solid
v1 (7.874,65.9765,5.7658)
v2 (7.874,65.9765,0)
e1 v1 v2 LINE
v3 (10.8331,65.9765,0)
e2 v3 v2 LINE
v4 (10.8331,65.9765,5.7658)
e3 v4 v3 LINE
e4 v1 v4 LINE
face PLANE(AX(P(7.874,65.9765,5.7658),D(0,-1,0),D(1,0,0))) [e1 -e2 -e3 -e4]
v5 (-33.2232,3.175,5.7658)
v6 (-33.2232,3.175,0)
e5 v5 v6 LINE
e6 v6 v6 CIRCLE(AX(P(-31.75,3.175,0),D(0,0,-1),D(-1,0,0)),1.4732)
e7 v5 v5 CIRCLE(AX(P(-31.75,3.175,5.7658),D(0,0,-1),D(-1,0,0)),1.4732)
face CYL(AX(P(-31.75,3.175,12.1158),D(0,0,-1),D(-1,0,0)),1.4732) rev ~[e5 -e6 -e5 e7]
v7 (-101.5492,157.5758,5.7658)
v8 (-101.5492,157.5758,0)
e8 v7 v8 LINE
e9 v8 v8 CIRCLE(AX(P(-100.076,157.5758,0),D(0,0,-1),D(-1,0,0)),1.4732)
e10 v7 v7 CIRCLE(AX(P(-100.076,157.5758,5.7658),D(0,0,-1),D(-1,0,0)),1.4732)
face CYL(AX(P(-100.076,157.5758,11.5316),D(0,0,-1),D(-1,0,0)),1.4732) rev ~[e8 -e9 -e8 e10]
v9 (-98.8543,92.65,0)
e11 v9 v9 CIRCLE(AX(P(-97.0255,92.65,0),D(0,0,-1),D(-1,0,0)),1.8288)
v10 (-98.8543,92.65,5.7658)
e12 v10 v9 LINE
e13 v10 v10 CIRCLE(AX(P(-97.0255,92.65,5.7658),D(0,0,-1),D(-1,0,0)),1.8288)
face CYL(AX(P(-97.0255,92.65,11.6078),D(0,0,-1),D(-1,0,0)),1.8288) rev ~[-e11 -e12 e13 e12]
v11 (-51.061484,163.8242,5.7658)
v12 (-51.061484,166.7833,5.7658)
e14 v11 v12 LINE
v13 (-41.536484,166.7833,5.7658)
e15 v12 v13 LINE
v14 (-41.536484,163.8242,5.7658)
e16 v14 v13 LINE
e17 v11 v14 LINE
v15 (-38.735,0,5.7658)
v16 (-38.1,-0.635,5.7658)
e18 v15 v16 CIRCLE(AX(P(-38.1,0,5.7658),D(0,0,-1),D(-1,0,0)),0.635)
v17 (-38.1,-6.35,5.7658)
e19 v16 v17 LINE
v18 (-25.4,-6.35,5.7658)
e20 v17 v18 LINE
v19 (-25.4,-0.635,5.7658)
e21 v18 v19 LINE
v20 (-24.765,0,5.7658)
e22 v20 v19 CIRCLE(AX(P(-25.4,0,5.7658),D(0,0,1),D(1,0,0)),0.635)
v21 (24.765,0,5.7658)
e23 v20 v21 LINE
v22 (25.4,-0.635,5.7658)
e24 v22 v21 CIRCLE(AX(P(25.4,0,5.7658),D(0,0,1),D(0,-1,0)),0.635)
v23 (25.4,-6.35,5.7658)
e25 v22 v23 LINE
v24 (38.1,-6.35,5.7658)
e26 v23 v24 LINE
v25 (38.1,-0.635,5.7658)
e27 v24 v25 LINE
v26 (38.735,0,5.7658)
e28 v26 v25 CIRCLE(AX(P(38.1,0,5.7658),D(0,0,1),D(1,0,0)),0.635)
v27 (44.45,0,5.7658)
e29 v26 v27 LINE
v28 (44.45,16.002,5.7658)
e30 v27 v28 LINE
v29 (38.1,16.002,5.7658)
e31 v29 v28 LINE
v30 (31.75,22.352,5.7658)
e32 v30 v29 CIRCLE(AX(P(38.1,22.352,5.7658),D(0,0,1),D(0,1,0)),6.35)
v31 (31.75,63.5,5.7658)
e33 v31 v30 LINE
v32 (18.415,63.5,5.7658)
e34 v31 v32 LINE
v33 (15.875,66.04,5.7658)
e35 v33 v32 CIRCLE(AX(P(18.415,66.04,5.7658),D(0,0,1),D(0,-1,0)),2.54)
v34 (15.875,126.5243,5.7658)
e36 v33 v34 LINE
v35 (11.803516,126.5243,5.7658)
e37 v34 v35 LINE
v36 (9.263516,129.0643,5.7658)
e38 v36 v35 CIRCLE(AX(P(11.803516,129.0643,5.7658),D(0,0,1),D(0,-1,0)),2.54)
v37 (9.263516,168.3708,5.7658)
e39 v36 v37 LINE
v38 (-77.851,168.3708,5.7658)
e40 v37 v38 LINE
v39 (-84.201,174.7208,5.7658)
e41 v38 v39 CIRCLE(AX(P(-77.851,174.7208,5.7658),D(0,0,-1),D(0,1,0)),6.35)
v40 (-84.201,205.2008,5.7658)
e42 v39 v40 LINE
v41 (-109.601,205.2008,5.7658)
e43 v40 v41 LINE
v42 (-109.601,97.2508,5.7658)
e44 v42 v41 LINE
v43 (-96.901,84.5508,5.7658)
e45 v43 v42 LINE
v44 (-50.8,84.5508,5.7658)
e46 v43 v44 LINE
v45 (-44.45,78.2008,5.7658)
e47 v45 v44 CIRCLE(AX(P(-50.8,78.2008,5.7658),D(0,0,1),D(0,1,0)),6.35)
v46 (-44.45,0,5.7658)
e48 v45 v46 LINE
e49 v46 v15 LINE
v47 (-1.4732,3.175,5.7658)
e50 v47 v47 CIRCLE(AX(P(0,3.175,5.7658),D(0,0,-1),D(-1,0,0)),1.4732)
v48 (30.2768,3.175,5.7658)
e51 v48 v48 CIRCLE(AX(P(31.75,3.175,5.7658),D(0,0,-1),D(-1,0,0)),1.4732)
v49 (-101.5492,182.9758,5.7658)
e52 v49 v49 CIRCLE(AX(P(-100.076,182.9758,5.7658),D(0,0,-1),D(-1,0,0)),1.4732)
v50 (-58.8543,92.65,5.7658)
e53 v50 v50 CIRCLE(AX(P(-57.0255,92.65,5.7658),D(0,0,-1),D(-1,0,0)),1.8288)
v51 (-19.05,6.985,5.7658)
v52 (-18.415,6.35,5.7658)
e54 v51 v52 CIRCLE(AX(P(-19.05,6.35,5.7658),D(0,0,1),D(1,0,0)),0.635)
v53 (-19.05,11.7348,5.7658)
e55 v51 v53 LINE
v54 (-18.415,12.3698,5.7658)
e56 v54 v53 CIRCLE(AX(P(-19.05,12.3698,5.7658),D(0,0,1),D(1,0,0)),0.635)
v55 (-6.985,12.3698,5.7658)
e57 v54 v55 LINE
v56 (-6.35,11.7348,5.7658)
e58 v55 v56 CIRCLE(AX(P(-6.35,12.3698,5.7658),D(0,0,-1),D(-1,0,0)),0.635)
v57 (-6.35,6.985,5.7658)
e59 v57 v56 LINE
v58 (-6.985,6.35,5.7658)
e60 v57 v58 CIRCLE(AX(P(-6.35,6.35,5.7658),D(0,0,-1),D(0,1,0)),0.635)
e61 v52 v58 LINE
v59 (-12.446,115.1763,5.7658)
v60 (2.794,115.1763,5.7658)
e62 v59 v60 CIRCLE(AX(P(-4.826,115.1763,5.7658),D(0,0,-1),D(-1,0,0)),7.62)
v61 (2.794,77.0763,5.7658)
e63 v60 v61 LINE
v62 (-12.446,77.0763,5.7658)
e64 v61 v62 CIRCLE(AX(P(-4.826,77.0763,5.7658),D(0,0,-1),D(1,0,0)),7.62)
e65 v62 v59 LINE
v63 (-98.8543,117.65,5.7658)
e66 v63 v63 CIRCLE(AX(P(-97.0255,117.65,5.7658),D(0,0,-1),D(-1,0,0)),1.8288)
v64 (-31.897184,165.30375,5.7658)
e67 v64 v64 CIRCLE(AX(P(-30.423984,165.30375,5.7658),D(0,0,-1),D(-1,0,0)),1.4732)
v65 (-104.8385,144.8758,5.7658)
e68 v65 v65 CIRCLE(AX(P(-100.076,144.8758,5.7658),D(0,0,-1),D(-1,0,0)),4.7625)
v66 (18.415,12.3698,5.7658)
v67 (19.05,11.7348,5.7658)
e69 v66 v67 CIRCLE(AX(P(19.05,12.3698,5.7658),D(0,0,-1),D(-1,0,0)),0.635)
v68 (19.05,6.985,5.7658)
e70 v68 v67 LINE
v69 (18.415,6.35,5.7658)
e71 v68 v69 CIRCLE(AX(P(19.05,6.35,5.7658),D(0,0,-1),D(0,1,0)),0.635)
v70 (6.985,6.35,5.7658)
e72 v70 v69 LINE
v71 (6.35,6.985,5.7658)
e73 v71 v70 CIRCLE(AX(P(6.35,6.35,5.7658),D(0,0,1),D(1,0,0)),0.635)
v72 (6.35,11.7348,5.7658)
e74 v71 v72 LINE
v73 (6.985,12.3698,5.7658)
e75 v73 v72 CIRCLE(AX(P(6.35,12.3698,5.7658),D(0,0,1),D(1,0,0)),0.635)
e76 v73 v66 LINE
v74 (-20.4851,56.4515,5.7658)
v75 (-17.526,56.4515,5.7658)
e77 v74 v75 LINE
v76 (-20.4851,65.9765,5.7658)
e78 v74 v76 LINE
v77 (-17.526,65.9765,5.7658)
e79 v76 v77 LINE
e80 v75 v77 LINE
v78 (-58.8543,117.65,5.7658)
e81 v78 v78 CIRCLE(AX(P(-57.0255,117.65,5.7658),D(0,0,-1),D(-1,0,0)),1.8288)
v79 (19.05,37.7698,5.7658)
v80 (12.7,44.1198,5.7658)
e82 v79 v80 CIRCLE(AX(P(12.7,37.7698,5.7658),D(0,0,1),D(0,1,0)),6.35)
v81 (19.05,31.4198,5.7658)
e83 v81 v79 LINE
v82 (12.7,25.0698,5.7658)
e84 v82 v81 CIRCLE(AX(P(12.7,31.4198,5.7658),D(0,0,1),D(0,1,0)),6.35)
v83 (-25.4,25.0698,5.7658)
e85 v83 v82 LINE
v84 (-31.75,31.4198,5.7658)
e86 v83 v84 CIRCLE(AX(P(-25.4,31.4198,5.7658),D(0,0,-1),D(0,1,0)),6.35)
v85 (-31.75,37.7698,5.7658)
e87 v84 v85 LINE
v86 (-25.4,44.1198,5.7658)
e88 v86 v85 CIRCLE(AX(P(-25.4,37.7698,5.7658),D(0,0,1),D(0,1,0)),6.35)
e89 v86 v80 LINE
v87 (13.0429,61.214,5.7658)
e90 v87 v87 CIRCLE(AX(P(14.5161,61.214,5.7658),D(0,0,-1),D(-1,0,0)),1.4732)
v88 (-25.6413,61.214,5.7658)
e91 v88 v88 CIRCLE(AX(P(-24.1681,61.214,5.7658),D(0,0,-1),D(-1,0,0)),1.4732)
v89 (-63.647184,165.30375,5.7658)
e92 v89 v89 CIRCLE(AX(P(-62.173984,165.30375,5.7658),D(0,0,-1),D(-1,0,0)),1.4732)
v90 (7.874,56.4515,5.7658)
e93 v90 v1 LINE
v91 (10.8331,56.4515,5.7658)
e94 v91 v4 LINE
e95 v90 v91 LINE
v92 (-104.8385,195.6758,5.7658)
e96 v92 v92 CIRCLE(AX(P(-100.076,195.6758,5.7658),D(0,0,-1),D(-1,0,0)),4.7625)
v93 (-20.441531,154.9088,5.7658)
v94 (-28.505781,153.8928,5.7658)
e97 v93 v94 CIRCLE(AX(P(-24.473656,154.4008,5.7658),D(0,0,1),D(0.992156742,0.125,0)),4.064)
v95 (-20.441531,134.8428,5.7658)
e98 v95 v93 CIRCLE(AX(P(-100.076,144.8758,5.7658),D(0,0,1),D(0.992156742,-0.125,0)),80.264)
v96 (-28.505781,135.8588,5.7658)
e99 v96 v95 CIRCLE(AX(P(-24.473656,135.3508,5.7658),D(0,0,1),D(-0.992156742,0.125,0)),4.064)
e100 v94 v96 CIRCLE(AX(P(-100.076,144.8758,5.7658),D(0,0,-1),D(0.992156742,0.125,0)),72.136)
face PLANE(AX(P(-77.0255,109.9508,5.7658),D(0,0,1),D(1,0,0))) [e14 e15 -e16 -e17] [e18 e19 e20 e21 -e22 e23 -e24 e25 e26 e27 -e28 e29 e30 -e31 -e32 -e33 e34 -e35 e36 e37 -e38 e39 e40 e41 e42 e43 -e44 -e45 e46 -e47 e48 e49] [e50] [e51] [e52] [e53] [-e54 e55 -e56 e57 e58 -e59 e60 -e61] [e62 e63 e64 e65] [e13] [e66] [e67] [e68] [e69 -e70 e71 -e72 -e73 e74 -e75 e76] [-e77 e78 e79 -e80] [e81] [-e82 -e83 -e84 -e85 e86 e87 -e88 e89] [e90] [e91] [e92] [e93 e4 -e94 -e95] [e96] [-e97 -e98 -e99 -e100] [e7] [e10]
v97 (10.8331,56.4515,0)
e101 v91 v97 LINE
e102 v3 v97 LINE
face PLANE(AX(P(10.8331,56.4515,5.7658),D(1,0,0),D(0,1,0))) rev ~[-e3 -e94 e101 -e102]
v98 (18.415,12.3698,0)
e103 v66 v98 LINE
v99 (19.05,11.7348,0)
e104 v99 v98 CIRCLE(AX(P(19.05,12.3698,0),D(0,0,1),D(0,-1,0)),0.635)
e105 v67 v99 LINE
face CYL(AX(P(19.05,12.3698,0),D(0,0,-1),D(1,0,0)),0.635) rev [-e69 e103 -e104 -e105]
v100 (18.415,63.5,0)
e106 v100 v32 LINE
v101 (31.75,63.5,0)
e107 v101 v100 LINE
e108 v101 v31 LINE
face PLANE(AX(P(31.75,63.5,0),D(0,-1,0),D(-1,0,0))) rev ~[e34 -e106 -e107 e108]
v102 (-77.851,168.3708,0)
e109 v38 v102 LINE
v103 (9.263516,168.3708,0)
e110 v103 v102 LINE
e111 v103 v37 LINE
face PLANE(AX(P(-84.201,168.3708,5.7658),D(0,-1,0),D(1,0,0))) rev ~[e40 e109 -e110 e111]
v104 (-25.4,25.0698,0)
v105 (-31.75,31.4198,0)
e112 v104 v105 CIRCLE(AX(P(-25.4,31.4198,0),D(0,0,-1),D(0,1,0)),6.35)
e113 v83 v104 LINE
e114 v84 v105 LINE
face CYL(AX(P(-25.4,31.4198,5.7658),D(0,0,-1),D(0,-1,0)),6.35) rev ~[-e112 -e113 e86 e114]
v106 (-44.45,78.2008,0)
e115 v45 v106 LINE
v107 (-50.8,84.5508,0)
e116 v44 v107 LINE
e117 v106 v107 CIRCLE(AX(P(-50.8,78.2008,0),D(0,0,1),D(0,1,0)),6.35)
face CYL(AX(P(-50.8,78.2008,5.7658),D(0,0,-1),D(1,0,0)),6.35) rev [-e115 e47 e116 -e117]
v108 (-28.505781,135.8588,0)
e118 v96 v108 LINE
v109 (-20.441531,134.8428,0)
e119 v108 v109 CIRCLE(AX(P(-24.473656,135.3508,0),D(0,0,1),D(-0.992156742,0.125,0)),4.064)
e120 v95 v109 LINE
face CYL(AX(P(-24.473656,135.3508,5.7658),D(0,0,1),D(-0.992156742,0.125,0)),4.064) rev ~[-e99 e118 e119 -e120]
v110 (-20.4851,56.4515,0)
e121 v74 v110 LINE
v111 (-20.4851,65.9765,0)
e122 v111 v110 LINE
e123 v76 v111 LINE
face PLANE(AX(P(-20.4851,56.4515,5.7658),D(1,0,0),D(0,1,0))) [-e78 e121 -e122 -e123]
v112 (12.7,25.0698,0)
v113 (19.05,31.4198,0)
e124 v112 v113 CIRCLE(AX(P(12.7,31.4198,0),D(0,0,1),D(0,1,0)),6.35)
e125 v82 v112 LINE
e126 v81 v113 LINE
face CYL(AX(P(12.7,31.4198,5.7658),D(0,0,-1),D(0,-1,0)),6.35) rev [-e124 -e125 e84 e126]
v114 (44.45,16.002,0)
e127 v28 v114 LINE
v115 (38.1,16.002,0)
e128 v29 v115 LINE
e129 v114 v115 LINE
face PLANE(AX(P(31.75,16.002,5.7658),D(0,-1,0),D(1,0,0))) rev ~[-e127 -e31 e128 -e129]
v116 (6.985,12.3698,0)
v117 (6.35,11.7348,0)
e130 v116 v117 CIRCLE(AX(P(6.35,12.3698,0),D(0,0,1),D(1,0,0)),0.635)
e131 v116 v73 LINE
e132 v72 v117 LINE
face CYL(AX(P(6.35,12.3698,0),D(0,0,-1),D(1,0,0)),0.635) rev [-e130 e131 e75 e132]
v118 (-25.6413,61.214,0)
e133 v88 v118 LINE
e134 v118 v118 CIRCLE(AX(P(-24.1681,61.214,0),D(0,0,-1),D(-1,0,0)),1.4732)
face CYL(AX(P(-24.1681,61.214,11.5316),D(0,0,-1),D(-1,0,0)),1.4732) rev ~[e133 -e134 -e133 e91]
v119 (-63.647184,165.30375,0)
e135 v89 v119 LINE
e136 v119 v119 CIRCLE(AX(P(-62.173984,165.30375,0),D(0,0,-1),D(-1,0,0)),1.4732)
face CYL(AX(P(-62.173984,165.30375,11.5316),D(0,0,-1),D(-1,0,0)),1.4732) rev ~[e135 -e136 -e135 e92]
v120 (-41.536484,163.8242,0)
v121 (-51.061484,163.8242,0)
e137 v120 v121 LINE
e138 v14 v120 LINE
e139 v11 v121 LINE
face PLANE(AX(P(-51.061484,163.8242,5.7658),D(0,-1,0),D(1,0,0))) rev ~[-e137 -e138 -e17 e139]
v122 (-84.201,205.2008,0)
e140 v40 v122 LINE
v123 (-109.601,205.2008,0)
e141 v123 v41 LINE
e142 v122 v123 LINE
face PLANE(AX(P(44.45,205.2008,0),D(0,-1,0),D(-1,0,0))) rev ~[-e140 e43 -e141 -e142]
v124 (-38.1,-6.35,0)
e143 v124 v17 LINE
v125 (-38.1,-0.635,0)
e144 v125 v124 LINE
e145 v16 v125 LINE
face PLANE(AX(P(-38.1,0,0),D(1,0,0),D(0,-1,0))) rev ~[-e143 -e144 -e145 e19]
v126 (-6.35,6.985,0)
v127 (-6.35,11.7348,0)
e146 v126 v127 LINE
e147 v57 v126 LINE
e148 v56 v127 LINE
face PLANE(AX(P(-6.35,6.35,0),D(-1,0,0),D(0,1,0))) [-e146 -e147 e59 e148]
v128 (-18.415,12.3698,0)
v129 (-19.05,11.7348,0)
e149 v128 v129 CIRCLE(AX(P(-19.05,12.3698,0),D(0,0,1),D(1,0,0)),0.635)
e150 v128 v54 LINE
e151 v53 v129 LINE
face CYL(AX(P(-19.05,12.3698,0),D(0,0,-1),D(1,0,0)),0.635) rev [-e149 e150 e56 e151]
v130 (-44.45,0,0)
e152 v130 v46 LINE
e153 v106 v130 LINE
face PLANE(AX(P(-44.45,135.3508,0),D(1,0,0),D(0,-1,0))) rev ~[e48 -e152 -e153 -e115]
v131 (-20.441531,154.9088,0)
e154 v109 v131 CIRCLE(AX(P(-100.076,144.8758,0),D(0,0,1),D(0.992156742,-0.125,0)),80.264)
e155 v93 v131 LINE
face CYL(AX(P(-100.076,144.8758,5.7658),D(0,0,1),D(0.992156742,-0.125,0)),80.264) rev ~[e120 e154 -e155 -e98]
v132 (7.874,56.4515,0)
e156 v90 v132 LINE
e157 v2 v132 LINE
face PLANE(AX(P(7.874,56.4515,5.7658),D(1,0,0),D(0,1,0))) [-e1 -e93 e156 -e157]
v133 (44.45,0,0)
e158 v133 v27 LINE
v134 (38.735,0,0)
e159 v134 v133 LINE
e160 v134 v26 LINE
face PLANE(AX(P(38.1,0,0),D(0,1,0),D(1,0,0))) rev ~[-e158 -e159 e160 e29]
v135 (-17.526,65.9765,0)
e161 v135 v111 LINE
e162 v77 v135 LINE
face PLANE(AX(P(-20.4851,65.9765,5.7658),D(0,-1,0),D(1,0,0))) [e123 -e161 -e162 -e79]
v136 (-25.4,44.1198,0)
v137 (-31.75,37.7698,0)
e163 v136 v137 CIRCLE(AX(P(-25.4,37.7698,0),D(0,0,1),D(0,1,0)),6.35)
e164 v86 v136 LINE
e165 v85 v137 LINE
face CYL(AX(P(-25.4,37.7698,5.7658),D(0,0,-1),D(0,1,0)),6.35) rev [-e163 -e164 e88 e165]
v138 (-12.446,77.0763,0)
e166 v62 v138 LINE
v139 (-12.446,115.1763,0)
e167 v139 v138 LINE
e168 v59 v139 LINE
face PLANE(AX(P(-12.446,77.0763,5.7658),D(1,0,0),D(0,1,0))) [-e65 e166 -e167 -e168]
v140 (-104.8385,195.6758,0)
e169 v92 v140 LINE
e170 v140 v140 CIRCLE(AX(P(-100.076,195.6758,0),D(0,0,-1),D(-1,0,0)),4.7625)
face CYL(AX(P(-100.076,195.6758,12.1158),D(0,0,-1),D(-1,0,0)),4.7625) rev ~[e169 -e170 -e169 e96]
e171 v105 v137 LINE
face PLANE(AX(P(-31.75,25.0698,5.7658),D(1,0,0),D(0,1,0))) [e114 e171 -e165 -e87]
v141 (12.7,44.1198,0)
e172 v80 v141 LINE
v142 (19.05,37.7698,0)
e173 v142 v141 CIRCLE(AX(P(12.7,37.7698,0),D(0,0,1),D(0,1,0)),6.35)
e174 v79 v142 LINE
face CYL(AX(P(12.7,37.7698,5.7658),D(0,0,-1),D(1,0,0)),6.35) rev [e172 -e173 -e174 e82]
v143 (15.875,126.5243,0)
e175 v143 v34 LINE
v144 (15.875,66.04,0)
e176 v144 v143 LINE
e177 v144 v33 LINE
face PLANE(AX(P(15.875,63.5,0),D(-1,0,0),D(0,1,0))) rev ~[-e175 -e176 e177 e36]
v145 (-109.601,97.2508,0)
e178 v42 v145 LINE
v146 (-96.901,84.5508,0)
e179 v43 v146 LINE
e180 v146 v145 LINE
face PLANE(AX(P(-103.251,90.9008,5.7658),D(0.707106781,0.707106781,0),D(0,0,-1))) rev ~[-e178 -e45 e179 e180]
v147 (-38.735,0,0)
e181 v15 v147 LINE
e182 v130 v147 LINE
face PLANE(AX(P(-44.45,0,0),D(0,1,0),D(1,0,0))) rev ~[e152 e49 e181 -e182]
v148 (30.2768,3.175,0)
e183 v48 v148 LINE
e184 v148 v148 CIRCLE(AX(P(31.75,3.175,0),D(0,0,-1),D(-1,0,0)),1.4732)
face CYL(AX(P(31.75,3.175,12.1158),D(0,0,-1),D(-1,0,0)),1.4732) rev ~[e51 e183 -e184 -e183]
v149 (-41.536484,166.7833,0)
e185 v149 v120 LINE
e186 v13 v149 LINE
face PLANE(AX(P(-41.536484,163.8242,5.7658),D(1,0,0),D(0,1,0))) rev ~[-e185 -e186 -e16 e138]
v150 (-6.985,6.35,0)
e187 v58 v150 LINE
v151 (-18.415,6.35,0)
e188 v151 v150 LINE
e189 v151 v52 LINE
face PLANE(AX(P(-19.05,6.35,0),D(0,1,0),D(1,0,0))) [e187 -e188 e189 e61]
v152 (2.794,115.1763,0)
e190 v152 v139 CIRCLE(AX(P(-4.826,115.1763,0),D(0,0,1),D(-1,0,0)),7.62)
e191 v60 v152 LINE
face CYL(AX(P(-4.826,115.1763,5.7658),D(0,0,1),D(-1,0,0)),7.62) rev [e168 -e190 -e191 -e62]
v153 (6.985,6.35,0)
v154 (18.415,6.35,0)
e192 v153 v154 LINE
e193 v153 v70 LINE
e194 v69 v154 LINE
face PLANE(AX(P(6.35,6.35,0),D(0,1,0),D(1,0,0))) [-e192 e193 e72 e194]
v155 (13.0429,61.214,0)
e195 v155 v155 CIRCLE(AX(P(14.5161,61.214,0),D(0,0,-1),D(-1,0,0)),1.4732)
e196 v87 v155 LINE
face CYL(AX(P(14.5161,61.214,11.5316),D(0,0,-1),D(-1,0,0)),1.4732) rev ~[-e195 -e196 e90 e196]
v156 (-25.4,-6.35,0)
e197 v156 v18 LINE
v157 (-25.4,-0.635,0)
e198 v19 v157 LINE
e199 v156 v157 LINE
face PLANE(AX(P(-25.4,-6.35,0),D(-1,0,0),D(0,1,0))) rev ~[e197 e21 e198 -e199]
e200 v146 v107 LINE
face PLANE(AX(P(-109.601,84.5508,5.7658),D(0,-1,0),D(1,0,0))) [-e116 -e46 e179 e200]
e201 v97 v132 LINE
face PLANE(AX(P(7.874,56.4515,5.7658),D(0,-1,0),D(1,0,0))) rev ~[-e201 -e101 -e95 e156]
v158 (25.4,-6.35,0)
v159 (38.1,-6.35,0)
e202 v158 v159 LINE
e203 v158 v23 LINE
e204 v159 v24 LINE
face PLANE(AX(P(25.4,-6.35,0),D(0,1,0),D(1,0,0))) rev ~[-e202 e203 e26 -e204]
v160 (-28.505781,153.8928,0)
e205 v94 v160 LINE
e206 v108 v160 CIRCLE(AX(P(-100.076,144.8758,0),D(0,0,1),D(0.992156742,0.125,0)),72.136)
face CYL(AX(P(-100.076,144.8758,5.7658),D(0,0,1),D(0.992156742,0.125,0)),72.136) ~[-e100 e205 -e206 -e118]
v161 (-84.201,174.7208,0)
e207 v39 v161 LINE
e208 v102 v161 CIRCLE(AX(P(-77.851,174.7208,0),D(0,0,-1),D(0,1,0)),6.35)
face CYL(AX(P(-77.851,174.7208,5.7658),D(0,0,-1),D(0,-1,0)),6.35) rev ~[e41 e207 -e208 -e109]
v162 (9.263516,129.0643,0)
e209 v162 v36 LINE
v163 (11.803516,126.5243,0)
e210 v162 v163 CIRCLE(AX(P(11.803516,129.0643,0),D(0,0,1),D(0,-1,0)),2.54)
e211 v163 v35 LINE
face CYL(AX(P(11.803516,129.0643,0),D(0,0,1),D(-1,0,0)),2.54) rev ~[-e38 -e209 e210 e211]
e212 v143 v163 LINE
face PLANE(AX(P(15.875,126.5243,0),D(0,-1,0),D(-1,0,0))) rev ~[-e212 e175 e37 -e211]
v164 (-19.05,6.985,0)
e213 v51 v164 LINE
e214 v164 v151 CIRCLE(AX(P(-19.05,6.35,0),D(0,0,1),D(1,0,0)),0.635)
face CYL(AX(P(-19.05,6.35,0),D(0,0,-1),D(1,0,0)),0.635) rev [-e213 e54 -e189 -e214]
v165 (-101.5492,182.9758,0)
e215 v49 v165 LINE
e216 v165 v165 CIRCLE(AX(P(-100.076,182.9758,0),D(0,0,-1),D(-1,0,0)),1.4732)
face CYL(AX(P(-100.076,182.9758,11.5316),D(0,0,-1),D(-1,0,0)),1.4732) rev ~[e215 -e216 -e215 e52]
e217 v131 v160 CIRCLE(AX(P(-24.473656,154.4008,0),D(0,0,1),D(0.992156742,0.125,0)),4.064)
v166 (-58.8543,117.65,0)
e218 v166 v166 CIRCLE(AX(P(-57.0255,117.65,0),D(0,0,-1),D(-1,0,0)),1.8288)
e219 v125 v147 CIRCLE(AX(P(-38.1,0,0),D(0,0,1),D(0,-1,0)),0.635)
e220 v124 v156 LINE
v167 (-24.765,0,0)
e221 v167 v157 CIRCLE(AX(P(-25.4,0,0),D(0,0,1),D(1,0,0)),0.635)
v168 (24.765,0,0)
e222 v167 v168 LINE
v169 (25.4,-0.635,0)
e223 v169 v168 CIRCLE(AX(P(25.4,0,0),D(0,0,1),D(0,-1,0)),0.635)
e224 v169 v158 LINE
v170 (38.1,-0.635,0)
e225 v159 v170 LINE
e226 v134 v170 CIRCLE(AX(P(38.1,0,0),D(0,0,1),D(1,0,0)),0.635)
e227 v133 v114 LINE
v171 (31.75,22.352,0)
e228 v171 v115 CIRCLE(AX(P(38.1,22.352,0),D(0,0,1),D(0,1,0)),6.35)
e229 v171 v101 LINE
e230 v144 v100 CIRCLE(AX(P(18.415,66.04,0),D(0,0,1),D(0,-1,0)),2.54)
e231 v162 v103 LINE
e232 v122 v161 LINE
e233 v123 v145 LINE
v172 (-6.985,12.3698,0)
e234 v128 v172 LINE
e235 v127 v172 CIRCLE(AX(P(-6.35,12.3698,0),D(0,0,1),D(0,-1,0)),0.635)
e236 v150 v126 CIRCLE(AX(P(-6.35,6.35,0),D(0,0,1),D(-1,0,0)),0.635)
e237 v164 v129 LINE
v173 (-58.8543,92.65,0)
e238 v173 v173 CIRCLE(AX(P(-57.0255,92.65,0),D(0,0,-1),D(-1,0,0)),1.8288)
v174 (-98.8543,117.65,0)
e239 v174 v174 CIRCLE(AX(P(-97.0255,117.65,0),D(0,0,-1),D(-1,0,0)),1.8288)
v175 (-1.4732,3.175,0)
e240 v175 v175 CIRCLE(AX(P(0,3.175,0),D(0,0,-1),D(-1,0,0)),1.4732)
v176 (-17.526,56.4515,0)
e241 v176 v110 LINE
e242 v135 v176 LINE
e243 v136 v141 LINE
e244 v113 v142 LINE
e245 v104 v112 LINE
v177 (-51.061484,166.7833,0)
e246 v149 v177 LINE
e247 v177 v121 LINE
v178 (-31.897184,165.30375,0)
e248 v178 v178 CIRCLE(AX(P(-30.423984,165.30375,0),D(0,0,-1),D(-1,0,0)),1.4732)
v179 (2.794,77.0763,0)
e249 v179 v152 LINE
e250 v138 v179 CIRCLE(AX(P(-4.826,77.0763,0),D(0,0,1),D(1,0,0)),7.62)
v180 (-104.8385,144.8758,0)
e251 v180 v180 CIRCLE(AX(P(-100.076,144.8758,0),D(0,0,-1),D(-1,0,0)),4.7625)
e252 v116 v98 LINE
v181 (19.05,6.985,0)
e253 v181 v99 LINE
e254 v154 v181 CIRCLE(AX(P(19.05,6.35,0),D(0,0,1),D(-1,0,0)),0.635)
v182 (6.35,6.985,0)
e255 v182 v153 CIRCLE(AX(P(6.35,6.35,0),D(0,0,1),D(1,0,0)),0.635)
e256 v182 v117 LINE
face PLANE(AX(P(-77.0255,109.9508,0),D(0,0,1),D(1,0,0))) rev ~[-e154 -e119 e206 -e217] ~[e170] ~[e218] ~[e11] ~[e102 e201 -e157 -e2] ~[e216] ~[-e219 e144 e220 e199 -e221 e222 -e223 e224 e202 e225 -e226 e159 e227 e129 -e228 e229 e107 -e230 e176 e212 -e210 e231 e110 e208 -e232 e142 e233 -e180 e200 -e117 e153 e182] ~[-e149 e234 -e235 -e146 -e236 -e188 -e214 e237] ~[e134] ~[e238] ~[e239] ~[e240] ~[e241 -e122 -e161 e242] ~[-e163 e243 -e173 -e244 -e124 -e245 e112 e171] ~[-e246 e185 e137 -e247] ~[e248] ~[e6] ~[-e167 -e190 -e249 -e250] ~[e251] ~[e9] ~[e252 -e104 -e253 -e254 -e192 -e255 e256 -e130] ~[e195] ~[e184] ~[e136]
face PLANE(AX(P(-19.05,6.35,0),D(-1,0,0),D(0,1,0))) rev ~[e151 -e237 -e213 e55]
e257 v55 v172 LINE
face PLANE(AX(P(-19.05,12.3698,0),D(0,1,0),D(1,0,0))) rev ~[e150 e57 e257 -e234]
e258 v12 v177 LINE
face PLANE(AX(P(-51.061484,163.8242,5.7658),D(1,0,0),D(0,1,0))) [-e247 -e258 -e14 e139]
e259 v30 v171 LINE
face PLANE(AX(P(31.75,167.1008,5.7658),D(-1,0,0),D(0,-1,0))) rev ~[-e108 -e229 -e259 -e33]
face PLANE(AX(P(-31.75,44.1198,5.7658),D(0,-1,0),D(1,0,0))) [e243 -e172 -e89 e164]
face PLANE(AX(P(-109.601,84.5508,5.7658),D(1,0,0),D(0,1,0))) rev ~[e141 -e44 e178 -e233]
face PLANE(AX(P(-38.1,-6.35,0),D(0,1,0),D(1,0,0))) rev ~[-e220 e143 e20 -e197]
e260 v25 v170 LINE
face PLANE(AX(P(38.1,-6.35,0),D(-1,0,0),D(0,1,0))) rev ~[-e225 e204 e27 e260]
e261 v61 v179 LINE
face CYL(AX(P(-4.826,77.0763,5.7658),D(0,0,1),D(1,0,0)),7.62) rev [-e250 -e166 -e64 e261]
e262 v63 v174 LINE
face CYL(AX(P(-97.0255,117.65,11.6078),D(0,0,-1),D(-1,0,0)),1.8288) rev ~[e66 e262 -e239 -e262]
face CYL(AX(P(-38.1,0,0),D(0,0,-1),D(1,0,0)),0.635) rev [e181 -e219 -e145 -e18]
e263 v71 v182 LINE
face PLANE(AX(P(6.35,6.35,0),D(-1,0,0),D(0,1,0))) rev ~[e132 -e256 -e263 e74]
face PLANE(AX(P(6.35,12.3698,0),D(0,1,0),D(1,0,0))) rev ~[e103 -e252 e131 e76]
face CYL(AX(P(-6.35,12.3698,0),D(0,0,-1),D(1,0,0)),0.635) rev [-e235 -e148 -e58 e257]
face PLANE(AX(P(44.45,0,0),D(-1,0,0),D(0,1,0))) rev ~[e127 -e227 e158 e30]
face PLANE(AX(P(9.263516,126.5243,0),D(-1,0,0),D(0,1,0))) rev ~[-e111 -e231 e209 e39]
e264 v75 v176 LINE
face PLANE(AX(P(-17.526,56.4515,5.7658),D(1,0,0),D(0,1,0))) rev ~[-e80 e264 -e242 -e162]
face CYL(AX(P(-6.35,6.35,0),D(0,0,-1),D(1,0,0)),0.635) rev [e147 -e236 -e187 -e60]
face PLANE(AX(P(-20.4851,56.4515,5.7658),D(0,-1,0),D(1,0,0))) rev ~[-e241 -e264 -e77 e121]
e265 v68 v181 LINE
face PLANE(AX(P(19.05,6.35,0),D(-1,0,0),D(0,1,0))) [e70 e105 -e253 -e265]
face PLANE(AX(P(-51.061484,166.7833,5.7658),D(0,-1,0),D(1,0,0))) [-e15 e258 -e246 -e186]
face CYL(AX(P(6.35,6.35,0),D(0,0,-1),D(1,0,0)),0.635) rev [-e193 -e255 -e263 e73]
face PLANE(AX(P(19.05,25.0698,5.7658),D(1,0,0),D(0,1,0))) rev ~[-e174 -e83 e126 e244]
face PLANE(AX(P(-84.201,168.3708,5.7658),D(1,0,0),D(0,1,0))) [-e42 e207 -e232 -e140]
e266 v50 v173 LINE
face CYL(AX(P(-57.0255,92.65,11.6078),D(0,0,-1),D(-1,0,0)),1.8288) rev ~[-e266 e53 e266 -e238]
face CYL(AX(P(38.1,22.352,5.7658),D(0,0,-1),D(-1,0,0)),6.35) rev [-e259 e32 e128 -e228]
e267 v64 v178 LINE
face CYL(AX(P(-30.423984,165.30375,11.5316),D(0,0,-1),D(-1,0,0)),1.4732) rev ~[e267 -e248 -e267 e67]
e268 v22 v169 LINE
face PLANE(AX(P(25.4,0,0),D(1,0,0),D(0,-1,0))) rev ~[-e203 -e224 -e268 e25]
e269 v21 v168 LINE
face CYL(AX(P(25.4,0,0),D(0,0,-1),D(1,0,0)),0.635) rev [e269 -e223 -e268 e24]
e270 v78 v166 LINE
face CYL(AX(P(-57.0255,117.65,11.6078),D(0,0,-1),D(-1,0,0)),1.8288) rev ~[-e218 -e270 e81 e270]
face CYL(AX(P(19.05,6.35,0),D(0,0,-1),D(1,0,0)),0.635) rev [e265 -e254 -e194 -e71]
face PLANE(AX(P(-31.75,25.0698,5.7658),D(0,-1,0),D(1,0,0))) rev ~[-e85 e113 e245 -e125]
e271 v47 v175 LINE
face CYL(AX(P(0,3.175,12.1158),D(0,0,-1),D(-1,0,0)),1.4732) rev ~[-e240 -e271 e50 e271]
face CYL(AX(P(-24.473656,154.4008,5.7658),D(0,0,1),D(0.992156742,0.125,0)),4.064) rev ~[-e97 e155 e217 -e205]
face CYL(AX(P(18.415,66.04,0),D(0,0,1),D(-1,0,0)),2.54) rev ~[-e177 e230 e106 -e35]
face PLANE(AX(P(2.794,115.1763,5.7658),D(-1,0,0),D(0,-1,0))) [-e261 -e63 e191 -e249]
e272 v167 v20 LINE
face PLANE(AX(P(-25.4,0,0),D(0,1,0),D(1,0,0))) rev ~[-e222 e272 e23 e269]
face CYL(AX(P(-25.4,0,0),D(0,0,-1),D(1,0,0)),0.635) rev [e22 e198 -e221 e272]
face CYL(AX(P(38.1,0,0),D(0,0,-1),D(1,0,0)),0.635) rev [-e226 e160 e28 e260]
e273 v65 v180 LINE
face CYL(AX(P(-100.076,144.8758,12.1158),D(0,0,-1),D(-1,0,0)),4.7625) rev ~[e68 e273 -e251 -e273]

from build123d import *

# Parameters (mm, degrees)
SKETCH1_W                        = 12.7
SKETCH1_H                        = 6.0198
BOSS_EXTRUDE1_DEPTH              = 5.7658
SKETCH13_R                       = 0.635
CUT_EXTRUDE2_DEPTH               = 5.7658
CHAMFER1_SIZE                    = 50.8
F_4_CLEARANCE_HOLE1_D            = 2.9464
F_4_CLEARANCE_HOLE1_DEPTH        = 6.35
F_4_CLEARANCE_HOLE1_TIP          = 0.885187864
F_3_8_0_375_DIAMETER_HOLE1_D     = 9.525
F_3_8_0_375_DIAMETER_HOLE1_DEPTH = 6.35
F_3_8_0_375_DIAMETER_HOLE1_TIP   = 2.861598698
CUT_EXTRUDE3_REACH               = 234.708
FILLET3_R                        = 6.35
CUT_EXTRUDE4_REACH               = 234.708
CUT_EXTRUDE5_REACH               = 234.708
SKETCH26_W                       = 2.9591
SKETCH26_H                       = 9.525
CUT_EXTRUDE6_REACH               = 234.708
SKETCH29_W                       = 65.024
SKETCH29_H                       = 36.83
FILLET5_R                        = 6.35
SKETCH30_W                       = 65.151
SKETCH30_H                       = 50.8
BOSS_EXTRUDE2_DEPTH              = 5.7658
FILLET6_R                        = 6.35
CUT_EXTRUDE9_REACH               = 234.708
SKETCH32_W                       = 9.525
SKETCH32_H                       = 2.9591
F_6_CLEARANCE_HOLE1_D            = 3.6576
F_6_CLEARANCE_HOLE1_DEPTH        = 5.842
F_6_CLEARANCE_HOLE1_TIP          = 1.0988539
CUT_EXTRUDE10_REACH              = 234.708
CHAMFER3_SIZE                    = 12.7
CUT_EXTRUDE11_START              = -5.7658
CUT_EXTRUDE11_DEPTH              = 5.7658
CUT_EXTRUDE12_REACH              = 234.708
SKETCH36_W                       = 57.277
SKETCH36_H                       = 36.83
FILLET7_R                        = 2.54
FILLET8_R                        = 6.35
CUT_EXTRUDE13_REACH              = 234.708
SKETCH37_W                       = 9.525
SKETCH37_H                       = 2.9591
F_4_CLEARANCE_HOLE2_D            = 2.9464
F_4_CLEARANCE_HOLE2_DEPTH        = 5.7658
SKETCH38_W                       = 50.8
SKETCH38_H                       = 19.05
CUT_EXTRUDE14_DEPTH              = 233.70795425
FILLET9_R                        = 6.35


with BuildPart() as part:
    # Sketch1 → Boss-Extrude1 (new body)
    with BuildSketch(Plane.XY):
        Polygon((-25.4, 0), (25.4, 0), (25.4, -6.35), (38.1, -6.35), (38.1, 0), (44.45, 0), (44.45, 205.2008), (-109.601, 205.2008), (-109.601, 135.3508), (-44.45, 135.3508), (-44.45, 0), (-38.1, 0), (-38.1, -6.35), (-25.4, -6.35), align=None)
        with Locations((12.7, 9.3599)):
            Rectangle(SKETCH1_W, SKETCH1_H, mode=Mode.SUBTRACT)
        with Locations((-12.7, 9.3599)):
            Rectangle(SKETCH1_W, SKETCH1_H, mode=Mode.SUBTRACT)
    extrude(amount=BOSS_EXTRUDE1_DEPTH)

    # Sketch13 → Cut-Extrude2 (cut)
    with BuildSketch(Plane.XY):
        with Locations((-19.05, 12.3698)):
            Circle(SKETCH13_R)
    cut_extrude2 = extrude(amount=CUT_EXTRUDE2_DEPTH, mode=Mode.SUBTRACT)

    # Sketch-Pattern1: Cut-Extrude2 at 11 more places
    with Locations((12.7, 0, 0), (12.7, -6.0198, 0), (0, -6.0198, 0), (25.4, 0, 0), (38.1, 0, 0), (38.1, -6.0198, 0), (25.4, -6.0198, 0), (57.15, -12.3698, 0), (44.45, -12.3698, 0), (-6.35, -12.3698, 0), (-19.05, -12.3698, 0)):
        add(cut_extrude2, mode=Mode.SUBTRACT)

    # Chamfer1
    chamfer1_edges = [part.edges().sort_by_distance(p)[0] for p in [
        (44.45, 205.2008, 2.8829),
    ]]
    chamfer(chamfer1_edges, length=CHAMFER1_SIZE)

    # #4 Clearance Hole1
    with Locations(Plane.XY.offset(5.7658)):
        with Locations((-31.75, 3.175), (31.75, 3.175), (0, 3.175)):
            Hole(F_4_CLEARANCE_HOLE1_D / 2, depth=F_4_CLEARANCE_HOLE1_DEPTH)
            with Locations((0, 0, -(F_4_CLEARANCE_HOLE1_DEPTH + F_4_CLEARANCE_HOLE1_TIP / 2))):  # 118° drill point
                Cone(0, F_4_CLEARANCE_HOLE1_D / 2, F_4_CLEARANCE_HOLE1_TIP, mode=Mode.SUBTRACT)

    # 3/8 (0.375) Diameter Hole1
    with Locations(Plane.XY.offset(5.7658)):
        with Locations((-100.076, 144.8758), (-100.076, 195.6758)):
            Hole(F_3_8_0_375_DIAMETER_HOLE1_D / 2, depth=F_3_8_0_375_DIAMETER_HOLE1_DEPTH)
            with Locations((0, 0, -(F_3_8_0_375_DIAMETER_HOLE1_DEPTH + F_3_8_0_375_DIAMETER_HOLE1_TIP / 2))):  # 118° drill point
                Cone(0, F_3_8_0_375_DIAMETER_HOLE1_D / 2, F_3_8_0_375_DIAMETER_HOLE1_TIP, mode=Mode.SUBTRACT)

    # Sketch24 → Cut-Extrude3 (cut, up to next)
    with BuildSketch(Plane.XY.offset(5.7658), mode=Mode.PRIVATE) as cut_extrude3_sk1:
        Polygon((31.75, 167.1008), (31.75, 16.002), (44.45, 16.002), (44.45, 154.4008), align=None)
    cut_extrude3_tool1 = extrude(cut_extrude3_sk1.sketch, amount=-CUT_EXTRUDE3_REACH, mode=Mode.PRIVATE) & part.part
    add(cut_extrude3_tool1.solids().sort_by_distance((38.007144, 88.422828, 5.7658))[0], mode=Mode.SUBTRACT)

    # Fillet3
    fillet3_edges = [part.edges().sort_by_distance(p)[0] for p in [
        (31.75, 16.002, 2.8829),
    ]]
    fillet(fillet3_edges, radius=FILLET3_R)

    # Sketch25 → Cut-Extrude4 (cut, up to next)
    with BuildSketch(Plane.XY.offset(5.7658), mode=Mode.PRIVATE) as cut_extrude4_sk1:
        with BuildLine():
            ThreePointArc((-20.441531288, 134.8428), (-19.812, 144.8758), (-20.441531288, 154.9088))
            ThreePointArc((-20.441531288, 154.9088), (-24.981656286, 158.432924998), (-28.505781284, 153.8928))
            ThreePointArc((-28.505781284, 153.8928), (-27.94, 144.8758), (-28.505781284, 135.8588))
            ThreePointArc((-28.505781284, 135.8588), (-24.981656286, 131.318675002), (-20.441531288, 134.8428))
        make_face()
    cut_extrude4_tool1 = extrude(cut_extrude4_sk1.sketch, amount=-CUT_EXTRUDE4_REACH, mode=Mode.PRIVATE) & part.part
    # Sketch25 → Cut-Extrude4 (cut, up to next)
    with BuildSketch(Plane.XY.offset(5.7658), mode=Mode.PRIVATE) as cut_extrude4_sk2:
        with BuildLine():
            ThreePointArc((17.359640569, 130.0803), (18.288, 144.8758), (17.359640569, 159.6713))
            ThreePointArc((17.359640569, 159.6713), (12.819515571, 163.195424998), (9.295390572, 158.6553))
            ThreePointArc((9.295390572, 158.6553), (10.16, 144.8758), (9.295390572, 131.0963))
            ThreePointArc((9.295390572, 131.0963), (12.819515571, 126.556175002), (17.359640569, 130.0803))
        make_face()
    cut_extrude4_tool2 = extrude(cut_extrude4_sk2.sketch, amount=-CUT_EXTRUDE4_REACH, mode=Mode.PRIVATE) & part.part
    add(cut_extrude4_tool1.solids().sort_by_distance((-24.175106, 144.8758, 5.7658))[0], mode=Mode.SUBTRACT)
    add(cut_extrude4_tool2.solids().sort_by_distance((13.816141, 144.8758, 5.7658))[0], mode=Mode.SUBTRACT)

    # Sketch26 → Cut-Extrude5 (cut, up to next)
    with BuildSketch(Plane.XY.offset(5.7658), mode=Mode.PRIVATE) as cut_extrude5_sk1:
        with Locations((9.35355, 61.214)):
            Rectangle(SKETCH26_W, SKETCH26_H)
    cut_extrude5_tool1 = extrude(cut_extrude5_sk1.sketch, amount=-CUT_EXTRUDE5_REACH, mode=Mode.PRIVATE) & part.part
    # Sketch26 → Cut-Extrude5 (cut, up to next)
    with BuildSketch(Plane.XY.offset(5.7658), mode=Mode.PRIVATE) as cut_extrude5_sk2:
        with Locations((-19.00555, 61.214)):
            Rectangle(SKETCH26_W, SKETCH26_H)
    cut_extrude5_tool2 = extrude(cut_extrude5_sk2.sketch, amount=-CUT_EXTRUDE5_REACH, mode=Mode.PRIVATE) & part.part
    add(cut_extrude5_tool1.solids().sort_by_distance((9.35355, 61.214, 5.7658))[0], mode=Mode.SUBTRACT)
    add(cut_extrude5_tool2.solids().sort_by_distance((-19.00555, 61.214, 5.7658))[0], mode=Mode.SUBTRACT)

    # Sketch29 → Cut-Extrude6 (cut, up to next)
    with BuildSketch(Plane.XY.offset(5.7658), mode=Mode.PRIVATE) as cut_extrude6_sk1:
        with Locations((-0.762, 186.7858)):
            Rectangle(SKETCH29_W, SKETCH29_H)
    cut_extrude6_tool1 = extrude(cut_extrude6_sk1.sketch, amount=-CUT_EXTRUDE6_REACH, mode=Mode.PRIVATE) & part.part
    add(cut_extrude6_tool1.solids().sort_by_distance((-0.762, 186.7858, 5.7658))[0], mode=Mode.SUBTRACT)

    # Fillet5
    fillet5_edges = [part.edges().sort_by_distance(p)[0] for p in [
        (-33.274, 168.3708, 2.8829),
    ]]
    fillet(fillet5_edges, radius=FILLET5_R)

    # Sketch30 → Boss-Extrude2 (add)
    with BuildSketch(Plane.XY.offset(5.7658)):
        with Locations((-77.0255, 109.9508)):
            Rectangle(SKETCH30_W, SKETCH30_H)
    extrude(amount=-BOSS_EXTRUDE2_DEPTH)

    # Fillet6
    fillet6_edges = [part.edges().sort_by_distance(p)[0] for p in [
        (-44.45, 84.5508, 2.8829),
    ]]
    fillet(fillet6_edges, radius=FILLET6_R)

    # Sketch32 → Cut-Extrude9 (cut, up to next)
    with BuildSketch(Plane.XY.offset(5.7658), mode=Mode.PRIVATE) as cut_extrude9_sk1:
        with Locations((20.6375, 166.0975)):
            Rectangle(SKETCH32_W, SKETCH32_H)
    cut_extrude9_tool1 = extrude(cut_extrude9_sk1.sketch, amount=-CUT_EXTRUDE9_REACH, mode=Mode.PRIVATE) & part.part
    add(cut_extrude9_tool1.solids().sort_by_distance((20.6375, 166.0975, 5.7658))[0], mode=Mode.SUBTRACT)

    # #6 Clearance Hole1
    with Locations(Plane.XY.offset(5.7658)):
        with Locations((-97.0255, 117.65), (-57.0255, 117.65), (-97.0255, 92.65), (-57.0255, 92.65)):
            Hole(F_6_CLEARANCE_HOLE1_D / 2, depth=F_6_CLEARANCE_HOLE1_DEPTH)
            with Locations((0, 0, -(F_6_CLEARANCE_HOLE1_DEPTH + F_6_CLEARANCE_HOLE1_TIP / 2))):  # 118° drill point
                Cone(0, F_6_CLEARANCE_HOLE1_D / 2, F_6_CLEARANCE_HOLE1_TIP, mode=Mode.SUBTRACT)

    # Sketch31 → Cut-Extrude10 (cut, up to next)
    with BuildSketch(Plane.XY.offset(5.7658), mode=Mode.PRIVATE) as cut_extrude10_sk1:
        with BuildLine():
            Line((-12.446, 77.0763), (-12.446, 115.1763))
            ThreePointArc((-12.446, 115.1763), (-4.826, 122.7963), (2.794, 115.1763))
            Line((2.794, 115.1763), (2.794, 77.0763))
            ThreePointArc((2.794, 77.0763), (-4.826, 69.4563), (-12.446, 77.0763))
        make_face()
    cut_extrude10_tool1 = extrude(cut_extrude10_sk1.sketch, amount=-CUT_EXTRUDE10_REACH, mode=Mode.PRIVATE) & part.part
    add(cut_extrude10_tool1.solids().sort_by_distance((-4.826, 96.1263, 5.7658))[0], mode=Mode.SUBTRACT)

    # Chamfer3
    chamfer3_edges = [part.edges().sort_by_distance(p)[0] for p in [
        (-109.601, 84.5508, 2.8829),
    ]]
    chamfer(chamfer3_edges, length=CHAMFER3_SIZE)

    # Sketch35 → Cut-Extrude11 (cut)
    with BuildSketch(Plane.XY.offset(5.7658).offset(CUT_EXTRUDE11_START)):
        Polygon((31.75, 63.5), (15.875, 63.5), (15.875, 126.5243), (9.263515571, 126.5243), (9.263515571, 168.3708), (31.75, 168.3708), align=None)
    extrude(amount=CUT_EXTRUDE11_DEPTH, mode=Mode.SUBTRACT)

    # Sketch36 → Cut-Extrude12 (cut, up to next)
    with BuildSketch(Plane.XY.offset(5.7658), mode=Mode.PRIVATE) as cut_extrude12_sk1:
        with Locations((-55.5625, 186.7858)):
            Rectangle(SKETCH36_W, SKETCH36_H)
    cut_extrude12_tool1 = extrude(cut_extrude12_sk1.sketch, amount=-CUT_EXTRUDE12_REACH, mode=Mode.PRIVATE) & part.part
    add(cut_extrude12_tool1.solids().sort_by_distance((-55.5625, 186.7858, 5.7658))[0], mode=Mode.SUBTRACT)

    # Fillet7
    fillet7_edges = [part.edges().sort_by_distance(p)[0] for p in [
        (15.875, 63.5, 2.8829),
        (9.263515571, 126.5243, 2.8829),
    ]]
    fillet(fillet7_edges, radius=FILLET7_R)

    # Fillet8
    fillet8_edges = [part.edges().sort_by_distance(p)[0] for p in [
        (-84.201, 168.3708, 2.8829),
    ]]
    fillet(fillet8_edges, radius=FILLET8_R)

    # Sketch37 → Cut-Extrude13 (cut, up to next)
    with BuildSketch(Plane.XY.offset(5.7658), mode=Mode.PRIVATE) as cut_extrude13_sk1:
        with Locations((-46.298984429, 165.30375)):
            Rectangle(SKETCH37_W, SKETCH37_H)
    cut_extrude13_tool1 = extrude(cut_extrude13_sk1.sketch, amount=-CUT_EXTRUDE13_REACH, mode=Mode.PRIVATE) & part.part
    add(cut_extrude13_tool1.solids().sort_by_distance((-46.298984, 165.30375, 5.7658))[0], mode=Mode.SUBTRACT)

    # #4 Clearance Hole2
    with Locations(Plane.XY.offset(5.7658)):
        with Locations((-24.1681, 61.214), (14.5161, 61.214), (20.6375, 117.5708), (-100.076, 182.9758), (-100.076, 157.5758), (-62.173984429, 165.30375), (-30.423984429, 165.30375)):
            Hole(F_4_CLEARANCE_HOLE2_D / 2, depth=F_4_CLEARANCE_HOLE2_DEPTH)

    # Sketch38 → Cut-Extrude14 (cut, through all)
    with BuildSketch(Plane.XY.offset(5.7658)):
        with Locations((-6.35, 34.5948)):
            Rectangle(SKETCH38_W, SKETCH38_H)
    extrude(amount=-CUT_EXTRUDE14_DEPTH, mode=Mode.SUBTRACT)

    # Fillet9
    fillet9_edges = [part.edges().sort_by_distance(p)[0] for p in [
        (19.05, 44.1198, 2.8829),
        (19.05, 25.0698, 2.8829),
        (-31.75, 25.0698, 2.8829),
        (-31.75, 44.1198, 2.8829),
    ]]
    fillet(fillet9_edges, radius=FILLET9_R)


solid = part.part
